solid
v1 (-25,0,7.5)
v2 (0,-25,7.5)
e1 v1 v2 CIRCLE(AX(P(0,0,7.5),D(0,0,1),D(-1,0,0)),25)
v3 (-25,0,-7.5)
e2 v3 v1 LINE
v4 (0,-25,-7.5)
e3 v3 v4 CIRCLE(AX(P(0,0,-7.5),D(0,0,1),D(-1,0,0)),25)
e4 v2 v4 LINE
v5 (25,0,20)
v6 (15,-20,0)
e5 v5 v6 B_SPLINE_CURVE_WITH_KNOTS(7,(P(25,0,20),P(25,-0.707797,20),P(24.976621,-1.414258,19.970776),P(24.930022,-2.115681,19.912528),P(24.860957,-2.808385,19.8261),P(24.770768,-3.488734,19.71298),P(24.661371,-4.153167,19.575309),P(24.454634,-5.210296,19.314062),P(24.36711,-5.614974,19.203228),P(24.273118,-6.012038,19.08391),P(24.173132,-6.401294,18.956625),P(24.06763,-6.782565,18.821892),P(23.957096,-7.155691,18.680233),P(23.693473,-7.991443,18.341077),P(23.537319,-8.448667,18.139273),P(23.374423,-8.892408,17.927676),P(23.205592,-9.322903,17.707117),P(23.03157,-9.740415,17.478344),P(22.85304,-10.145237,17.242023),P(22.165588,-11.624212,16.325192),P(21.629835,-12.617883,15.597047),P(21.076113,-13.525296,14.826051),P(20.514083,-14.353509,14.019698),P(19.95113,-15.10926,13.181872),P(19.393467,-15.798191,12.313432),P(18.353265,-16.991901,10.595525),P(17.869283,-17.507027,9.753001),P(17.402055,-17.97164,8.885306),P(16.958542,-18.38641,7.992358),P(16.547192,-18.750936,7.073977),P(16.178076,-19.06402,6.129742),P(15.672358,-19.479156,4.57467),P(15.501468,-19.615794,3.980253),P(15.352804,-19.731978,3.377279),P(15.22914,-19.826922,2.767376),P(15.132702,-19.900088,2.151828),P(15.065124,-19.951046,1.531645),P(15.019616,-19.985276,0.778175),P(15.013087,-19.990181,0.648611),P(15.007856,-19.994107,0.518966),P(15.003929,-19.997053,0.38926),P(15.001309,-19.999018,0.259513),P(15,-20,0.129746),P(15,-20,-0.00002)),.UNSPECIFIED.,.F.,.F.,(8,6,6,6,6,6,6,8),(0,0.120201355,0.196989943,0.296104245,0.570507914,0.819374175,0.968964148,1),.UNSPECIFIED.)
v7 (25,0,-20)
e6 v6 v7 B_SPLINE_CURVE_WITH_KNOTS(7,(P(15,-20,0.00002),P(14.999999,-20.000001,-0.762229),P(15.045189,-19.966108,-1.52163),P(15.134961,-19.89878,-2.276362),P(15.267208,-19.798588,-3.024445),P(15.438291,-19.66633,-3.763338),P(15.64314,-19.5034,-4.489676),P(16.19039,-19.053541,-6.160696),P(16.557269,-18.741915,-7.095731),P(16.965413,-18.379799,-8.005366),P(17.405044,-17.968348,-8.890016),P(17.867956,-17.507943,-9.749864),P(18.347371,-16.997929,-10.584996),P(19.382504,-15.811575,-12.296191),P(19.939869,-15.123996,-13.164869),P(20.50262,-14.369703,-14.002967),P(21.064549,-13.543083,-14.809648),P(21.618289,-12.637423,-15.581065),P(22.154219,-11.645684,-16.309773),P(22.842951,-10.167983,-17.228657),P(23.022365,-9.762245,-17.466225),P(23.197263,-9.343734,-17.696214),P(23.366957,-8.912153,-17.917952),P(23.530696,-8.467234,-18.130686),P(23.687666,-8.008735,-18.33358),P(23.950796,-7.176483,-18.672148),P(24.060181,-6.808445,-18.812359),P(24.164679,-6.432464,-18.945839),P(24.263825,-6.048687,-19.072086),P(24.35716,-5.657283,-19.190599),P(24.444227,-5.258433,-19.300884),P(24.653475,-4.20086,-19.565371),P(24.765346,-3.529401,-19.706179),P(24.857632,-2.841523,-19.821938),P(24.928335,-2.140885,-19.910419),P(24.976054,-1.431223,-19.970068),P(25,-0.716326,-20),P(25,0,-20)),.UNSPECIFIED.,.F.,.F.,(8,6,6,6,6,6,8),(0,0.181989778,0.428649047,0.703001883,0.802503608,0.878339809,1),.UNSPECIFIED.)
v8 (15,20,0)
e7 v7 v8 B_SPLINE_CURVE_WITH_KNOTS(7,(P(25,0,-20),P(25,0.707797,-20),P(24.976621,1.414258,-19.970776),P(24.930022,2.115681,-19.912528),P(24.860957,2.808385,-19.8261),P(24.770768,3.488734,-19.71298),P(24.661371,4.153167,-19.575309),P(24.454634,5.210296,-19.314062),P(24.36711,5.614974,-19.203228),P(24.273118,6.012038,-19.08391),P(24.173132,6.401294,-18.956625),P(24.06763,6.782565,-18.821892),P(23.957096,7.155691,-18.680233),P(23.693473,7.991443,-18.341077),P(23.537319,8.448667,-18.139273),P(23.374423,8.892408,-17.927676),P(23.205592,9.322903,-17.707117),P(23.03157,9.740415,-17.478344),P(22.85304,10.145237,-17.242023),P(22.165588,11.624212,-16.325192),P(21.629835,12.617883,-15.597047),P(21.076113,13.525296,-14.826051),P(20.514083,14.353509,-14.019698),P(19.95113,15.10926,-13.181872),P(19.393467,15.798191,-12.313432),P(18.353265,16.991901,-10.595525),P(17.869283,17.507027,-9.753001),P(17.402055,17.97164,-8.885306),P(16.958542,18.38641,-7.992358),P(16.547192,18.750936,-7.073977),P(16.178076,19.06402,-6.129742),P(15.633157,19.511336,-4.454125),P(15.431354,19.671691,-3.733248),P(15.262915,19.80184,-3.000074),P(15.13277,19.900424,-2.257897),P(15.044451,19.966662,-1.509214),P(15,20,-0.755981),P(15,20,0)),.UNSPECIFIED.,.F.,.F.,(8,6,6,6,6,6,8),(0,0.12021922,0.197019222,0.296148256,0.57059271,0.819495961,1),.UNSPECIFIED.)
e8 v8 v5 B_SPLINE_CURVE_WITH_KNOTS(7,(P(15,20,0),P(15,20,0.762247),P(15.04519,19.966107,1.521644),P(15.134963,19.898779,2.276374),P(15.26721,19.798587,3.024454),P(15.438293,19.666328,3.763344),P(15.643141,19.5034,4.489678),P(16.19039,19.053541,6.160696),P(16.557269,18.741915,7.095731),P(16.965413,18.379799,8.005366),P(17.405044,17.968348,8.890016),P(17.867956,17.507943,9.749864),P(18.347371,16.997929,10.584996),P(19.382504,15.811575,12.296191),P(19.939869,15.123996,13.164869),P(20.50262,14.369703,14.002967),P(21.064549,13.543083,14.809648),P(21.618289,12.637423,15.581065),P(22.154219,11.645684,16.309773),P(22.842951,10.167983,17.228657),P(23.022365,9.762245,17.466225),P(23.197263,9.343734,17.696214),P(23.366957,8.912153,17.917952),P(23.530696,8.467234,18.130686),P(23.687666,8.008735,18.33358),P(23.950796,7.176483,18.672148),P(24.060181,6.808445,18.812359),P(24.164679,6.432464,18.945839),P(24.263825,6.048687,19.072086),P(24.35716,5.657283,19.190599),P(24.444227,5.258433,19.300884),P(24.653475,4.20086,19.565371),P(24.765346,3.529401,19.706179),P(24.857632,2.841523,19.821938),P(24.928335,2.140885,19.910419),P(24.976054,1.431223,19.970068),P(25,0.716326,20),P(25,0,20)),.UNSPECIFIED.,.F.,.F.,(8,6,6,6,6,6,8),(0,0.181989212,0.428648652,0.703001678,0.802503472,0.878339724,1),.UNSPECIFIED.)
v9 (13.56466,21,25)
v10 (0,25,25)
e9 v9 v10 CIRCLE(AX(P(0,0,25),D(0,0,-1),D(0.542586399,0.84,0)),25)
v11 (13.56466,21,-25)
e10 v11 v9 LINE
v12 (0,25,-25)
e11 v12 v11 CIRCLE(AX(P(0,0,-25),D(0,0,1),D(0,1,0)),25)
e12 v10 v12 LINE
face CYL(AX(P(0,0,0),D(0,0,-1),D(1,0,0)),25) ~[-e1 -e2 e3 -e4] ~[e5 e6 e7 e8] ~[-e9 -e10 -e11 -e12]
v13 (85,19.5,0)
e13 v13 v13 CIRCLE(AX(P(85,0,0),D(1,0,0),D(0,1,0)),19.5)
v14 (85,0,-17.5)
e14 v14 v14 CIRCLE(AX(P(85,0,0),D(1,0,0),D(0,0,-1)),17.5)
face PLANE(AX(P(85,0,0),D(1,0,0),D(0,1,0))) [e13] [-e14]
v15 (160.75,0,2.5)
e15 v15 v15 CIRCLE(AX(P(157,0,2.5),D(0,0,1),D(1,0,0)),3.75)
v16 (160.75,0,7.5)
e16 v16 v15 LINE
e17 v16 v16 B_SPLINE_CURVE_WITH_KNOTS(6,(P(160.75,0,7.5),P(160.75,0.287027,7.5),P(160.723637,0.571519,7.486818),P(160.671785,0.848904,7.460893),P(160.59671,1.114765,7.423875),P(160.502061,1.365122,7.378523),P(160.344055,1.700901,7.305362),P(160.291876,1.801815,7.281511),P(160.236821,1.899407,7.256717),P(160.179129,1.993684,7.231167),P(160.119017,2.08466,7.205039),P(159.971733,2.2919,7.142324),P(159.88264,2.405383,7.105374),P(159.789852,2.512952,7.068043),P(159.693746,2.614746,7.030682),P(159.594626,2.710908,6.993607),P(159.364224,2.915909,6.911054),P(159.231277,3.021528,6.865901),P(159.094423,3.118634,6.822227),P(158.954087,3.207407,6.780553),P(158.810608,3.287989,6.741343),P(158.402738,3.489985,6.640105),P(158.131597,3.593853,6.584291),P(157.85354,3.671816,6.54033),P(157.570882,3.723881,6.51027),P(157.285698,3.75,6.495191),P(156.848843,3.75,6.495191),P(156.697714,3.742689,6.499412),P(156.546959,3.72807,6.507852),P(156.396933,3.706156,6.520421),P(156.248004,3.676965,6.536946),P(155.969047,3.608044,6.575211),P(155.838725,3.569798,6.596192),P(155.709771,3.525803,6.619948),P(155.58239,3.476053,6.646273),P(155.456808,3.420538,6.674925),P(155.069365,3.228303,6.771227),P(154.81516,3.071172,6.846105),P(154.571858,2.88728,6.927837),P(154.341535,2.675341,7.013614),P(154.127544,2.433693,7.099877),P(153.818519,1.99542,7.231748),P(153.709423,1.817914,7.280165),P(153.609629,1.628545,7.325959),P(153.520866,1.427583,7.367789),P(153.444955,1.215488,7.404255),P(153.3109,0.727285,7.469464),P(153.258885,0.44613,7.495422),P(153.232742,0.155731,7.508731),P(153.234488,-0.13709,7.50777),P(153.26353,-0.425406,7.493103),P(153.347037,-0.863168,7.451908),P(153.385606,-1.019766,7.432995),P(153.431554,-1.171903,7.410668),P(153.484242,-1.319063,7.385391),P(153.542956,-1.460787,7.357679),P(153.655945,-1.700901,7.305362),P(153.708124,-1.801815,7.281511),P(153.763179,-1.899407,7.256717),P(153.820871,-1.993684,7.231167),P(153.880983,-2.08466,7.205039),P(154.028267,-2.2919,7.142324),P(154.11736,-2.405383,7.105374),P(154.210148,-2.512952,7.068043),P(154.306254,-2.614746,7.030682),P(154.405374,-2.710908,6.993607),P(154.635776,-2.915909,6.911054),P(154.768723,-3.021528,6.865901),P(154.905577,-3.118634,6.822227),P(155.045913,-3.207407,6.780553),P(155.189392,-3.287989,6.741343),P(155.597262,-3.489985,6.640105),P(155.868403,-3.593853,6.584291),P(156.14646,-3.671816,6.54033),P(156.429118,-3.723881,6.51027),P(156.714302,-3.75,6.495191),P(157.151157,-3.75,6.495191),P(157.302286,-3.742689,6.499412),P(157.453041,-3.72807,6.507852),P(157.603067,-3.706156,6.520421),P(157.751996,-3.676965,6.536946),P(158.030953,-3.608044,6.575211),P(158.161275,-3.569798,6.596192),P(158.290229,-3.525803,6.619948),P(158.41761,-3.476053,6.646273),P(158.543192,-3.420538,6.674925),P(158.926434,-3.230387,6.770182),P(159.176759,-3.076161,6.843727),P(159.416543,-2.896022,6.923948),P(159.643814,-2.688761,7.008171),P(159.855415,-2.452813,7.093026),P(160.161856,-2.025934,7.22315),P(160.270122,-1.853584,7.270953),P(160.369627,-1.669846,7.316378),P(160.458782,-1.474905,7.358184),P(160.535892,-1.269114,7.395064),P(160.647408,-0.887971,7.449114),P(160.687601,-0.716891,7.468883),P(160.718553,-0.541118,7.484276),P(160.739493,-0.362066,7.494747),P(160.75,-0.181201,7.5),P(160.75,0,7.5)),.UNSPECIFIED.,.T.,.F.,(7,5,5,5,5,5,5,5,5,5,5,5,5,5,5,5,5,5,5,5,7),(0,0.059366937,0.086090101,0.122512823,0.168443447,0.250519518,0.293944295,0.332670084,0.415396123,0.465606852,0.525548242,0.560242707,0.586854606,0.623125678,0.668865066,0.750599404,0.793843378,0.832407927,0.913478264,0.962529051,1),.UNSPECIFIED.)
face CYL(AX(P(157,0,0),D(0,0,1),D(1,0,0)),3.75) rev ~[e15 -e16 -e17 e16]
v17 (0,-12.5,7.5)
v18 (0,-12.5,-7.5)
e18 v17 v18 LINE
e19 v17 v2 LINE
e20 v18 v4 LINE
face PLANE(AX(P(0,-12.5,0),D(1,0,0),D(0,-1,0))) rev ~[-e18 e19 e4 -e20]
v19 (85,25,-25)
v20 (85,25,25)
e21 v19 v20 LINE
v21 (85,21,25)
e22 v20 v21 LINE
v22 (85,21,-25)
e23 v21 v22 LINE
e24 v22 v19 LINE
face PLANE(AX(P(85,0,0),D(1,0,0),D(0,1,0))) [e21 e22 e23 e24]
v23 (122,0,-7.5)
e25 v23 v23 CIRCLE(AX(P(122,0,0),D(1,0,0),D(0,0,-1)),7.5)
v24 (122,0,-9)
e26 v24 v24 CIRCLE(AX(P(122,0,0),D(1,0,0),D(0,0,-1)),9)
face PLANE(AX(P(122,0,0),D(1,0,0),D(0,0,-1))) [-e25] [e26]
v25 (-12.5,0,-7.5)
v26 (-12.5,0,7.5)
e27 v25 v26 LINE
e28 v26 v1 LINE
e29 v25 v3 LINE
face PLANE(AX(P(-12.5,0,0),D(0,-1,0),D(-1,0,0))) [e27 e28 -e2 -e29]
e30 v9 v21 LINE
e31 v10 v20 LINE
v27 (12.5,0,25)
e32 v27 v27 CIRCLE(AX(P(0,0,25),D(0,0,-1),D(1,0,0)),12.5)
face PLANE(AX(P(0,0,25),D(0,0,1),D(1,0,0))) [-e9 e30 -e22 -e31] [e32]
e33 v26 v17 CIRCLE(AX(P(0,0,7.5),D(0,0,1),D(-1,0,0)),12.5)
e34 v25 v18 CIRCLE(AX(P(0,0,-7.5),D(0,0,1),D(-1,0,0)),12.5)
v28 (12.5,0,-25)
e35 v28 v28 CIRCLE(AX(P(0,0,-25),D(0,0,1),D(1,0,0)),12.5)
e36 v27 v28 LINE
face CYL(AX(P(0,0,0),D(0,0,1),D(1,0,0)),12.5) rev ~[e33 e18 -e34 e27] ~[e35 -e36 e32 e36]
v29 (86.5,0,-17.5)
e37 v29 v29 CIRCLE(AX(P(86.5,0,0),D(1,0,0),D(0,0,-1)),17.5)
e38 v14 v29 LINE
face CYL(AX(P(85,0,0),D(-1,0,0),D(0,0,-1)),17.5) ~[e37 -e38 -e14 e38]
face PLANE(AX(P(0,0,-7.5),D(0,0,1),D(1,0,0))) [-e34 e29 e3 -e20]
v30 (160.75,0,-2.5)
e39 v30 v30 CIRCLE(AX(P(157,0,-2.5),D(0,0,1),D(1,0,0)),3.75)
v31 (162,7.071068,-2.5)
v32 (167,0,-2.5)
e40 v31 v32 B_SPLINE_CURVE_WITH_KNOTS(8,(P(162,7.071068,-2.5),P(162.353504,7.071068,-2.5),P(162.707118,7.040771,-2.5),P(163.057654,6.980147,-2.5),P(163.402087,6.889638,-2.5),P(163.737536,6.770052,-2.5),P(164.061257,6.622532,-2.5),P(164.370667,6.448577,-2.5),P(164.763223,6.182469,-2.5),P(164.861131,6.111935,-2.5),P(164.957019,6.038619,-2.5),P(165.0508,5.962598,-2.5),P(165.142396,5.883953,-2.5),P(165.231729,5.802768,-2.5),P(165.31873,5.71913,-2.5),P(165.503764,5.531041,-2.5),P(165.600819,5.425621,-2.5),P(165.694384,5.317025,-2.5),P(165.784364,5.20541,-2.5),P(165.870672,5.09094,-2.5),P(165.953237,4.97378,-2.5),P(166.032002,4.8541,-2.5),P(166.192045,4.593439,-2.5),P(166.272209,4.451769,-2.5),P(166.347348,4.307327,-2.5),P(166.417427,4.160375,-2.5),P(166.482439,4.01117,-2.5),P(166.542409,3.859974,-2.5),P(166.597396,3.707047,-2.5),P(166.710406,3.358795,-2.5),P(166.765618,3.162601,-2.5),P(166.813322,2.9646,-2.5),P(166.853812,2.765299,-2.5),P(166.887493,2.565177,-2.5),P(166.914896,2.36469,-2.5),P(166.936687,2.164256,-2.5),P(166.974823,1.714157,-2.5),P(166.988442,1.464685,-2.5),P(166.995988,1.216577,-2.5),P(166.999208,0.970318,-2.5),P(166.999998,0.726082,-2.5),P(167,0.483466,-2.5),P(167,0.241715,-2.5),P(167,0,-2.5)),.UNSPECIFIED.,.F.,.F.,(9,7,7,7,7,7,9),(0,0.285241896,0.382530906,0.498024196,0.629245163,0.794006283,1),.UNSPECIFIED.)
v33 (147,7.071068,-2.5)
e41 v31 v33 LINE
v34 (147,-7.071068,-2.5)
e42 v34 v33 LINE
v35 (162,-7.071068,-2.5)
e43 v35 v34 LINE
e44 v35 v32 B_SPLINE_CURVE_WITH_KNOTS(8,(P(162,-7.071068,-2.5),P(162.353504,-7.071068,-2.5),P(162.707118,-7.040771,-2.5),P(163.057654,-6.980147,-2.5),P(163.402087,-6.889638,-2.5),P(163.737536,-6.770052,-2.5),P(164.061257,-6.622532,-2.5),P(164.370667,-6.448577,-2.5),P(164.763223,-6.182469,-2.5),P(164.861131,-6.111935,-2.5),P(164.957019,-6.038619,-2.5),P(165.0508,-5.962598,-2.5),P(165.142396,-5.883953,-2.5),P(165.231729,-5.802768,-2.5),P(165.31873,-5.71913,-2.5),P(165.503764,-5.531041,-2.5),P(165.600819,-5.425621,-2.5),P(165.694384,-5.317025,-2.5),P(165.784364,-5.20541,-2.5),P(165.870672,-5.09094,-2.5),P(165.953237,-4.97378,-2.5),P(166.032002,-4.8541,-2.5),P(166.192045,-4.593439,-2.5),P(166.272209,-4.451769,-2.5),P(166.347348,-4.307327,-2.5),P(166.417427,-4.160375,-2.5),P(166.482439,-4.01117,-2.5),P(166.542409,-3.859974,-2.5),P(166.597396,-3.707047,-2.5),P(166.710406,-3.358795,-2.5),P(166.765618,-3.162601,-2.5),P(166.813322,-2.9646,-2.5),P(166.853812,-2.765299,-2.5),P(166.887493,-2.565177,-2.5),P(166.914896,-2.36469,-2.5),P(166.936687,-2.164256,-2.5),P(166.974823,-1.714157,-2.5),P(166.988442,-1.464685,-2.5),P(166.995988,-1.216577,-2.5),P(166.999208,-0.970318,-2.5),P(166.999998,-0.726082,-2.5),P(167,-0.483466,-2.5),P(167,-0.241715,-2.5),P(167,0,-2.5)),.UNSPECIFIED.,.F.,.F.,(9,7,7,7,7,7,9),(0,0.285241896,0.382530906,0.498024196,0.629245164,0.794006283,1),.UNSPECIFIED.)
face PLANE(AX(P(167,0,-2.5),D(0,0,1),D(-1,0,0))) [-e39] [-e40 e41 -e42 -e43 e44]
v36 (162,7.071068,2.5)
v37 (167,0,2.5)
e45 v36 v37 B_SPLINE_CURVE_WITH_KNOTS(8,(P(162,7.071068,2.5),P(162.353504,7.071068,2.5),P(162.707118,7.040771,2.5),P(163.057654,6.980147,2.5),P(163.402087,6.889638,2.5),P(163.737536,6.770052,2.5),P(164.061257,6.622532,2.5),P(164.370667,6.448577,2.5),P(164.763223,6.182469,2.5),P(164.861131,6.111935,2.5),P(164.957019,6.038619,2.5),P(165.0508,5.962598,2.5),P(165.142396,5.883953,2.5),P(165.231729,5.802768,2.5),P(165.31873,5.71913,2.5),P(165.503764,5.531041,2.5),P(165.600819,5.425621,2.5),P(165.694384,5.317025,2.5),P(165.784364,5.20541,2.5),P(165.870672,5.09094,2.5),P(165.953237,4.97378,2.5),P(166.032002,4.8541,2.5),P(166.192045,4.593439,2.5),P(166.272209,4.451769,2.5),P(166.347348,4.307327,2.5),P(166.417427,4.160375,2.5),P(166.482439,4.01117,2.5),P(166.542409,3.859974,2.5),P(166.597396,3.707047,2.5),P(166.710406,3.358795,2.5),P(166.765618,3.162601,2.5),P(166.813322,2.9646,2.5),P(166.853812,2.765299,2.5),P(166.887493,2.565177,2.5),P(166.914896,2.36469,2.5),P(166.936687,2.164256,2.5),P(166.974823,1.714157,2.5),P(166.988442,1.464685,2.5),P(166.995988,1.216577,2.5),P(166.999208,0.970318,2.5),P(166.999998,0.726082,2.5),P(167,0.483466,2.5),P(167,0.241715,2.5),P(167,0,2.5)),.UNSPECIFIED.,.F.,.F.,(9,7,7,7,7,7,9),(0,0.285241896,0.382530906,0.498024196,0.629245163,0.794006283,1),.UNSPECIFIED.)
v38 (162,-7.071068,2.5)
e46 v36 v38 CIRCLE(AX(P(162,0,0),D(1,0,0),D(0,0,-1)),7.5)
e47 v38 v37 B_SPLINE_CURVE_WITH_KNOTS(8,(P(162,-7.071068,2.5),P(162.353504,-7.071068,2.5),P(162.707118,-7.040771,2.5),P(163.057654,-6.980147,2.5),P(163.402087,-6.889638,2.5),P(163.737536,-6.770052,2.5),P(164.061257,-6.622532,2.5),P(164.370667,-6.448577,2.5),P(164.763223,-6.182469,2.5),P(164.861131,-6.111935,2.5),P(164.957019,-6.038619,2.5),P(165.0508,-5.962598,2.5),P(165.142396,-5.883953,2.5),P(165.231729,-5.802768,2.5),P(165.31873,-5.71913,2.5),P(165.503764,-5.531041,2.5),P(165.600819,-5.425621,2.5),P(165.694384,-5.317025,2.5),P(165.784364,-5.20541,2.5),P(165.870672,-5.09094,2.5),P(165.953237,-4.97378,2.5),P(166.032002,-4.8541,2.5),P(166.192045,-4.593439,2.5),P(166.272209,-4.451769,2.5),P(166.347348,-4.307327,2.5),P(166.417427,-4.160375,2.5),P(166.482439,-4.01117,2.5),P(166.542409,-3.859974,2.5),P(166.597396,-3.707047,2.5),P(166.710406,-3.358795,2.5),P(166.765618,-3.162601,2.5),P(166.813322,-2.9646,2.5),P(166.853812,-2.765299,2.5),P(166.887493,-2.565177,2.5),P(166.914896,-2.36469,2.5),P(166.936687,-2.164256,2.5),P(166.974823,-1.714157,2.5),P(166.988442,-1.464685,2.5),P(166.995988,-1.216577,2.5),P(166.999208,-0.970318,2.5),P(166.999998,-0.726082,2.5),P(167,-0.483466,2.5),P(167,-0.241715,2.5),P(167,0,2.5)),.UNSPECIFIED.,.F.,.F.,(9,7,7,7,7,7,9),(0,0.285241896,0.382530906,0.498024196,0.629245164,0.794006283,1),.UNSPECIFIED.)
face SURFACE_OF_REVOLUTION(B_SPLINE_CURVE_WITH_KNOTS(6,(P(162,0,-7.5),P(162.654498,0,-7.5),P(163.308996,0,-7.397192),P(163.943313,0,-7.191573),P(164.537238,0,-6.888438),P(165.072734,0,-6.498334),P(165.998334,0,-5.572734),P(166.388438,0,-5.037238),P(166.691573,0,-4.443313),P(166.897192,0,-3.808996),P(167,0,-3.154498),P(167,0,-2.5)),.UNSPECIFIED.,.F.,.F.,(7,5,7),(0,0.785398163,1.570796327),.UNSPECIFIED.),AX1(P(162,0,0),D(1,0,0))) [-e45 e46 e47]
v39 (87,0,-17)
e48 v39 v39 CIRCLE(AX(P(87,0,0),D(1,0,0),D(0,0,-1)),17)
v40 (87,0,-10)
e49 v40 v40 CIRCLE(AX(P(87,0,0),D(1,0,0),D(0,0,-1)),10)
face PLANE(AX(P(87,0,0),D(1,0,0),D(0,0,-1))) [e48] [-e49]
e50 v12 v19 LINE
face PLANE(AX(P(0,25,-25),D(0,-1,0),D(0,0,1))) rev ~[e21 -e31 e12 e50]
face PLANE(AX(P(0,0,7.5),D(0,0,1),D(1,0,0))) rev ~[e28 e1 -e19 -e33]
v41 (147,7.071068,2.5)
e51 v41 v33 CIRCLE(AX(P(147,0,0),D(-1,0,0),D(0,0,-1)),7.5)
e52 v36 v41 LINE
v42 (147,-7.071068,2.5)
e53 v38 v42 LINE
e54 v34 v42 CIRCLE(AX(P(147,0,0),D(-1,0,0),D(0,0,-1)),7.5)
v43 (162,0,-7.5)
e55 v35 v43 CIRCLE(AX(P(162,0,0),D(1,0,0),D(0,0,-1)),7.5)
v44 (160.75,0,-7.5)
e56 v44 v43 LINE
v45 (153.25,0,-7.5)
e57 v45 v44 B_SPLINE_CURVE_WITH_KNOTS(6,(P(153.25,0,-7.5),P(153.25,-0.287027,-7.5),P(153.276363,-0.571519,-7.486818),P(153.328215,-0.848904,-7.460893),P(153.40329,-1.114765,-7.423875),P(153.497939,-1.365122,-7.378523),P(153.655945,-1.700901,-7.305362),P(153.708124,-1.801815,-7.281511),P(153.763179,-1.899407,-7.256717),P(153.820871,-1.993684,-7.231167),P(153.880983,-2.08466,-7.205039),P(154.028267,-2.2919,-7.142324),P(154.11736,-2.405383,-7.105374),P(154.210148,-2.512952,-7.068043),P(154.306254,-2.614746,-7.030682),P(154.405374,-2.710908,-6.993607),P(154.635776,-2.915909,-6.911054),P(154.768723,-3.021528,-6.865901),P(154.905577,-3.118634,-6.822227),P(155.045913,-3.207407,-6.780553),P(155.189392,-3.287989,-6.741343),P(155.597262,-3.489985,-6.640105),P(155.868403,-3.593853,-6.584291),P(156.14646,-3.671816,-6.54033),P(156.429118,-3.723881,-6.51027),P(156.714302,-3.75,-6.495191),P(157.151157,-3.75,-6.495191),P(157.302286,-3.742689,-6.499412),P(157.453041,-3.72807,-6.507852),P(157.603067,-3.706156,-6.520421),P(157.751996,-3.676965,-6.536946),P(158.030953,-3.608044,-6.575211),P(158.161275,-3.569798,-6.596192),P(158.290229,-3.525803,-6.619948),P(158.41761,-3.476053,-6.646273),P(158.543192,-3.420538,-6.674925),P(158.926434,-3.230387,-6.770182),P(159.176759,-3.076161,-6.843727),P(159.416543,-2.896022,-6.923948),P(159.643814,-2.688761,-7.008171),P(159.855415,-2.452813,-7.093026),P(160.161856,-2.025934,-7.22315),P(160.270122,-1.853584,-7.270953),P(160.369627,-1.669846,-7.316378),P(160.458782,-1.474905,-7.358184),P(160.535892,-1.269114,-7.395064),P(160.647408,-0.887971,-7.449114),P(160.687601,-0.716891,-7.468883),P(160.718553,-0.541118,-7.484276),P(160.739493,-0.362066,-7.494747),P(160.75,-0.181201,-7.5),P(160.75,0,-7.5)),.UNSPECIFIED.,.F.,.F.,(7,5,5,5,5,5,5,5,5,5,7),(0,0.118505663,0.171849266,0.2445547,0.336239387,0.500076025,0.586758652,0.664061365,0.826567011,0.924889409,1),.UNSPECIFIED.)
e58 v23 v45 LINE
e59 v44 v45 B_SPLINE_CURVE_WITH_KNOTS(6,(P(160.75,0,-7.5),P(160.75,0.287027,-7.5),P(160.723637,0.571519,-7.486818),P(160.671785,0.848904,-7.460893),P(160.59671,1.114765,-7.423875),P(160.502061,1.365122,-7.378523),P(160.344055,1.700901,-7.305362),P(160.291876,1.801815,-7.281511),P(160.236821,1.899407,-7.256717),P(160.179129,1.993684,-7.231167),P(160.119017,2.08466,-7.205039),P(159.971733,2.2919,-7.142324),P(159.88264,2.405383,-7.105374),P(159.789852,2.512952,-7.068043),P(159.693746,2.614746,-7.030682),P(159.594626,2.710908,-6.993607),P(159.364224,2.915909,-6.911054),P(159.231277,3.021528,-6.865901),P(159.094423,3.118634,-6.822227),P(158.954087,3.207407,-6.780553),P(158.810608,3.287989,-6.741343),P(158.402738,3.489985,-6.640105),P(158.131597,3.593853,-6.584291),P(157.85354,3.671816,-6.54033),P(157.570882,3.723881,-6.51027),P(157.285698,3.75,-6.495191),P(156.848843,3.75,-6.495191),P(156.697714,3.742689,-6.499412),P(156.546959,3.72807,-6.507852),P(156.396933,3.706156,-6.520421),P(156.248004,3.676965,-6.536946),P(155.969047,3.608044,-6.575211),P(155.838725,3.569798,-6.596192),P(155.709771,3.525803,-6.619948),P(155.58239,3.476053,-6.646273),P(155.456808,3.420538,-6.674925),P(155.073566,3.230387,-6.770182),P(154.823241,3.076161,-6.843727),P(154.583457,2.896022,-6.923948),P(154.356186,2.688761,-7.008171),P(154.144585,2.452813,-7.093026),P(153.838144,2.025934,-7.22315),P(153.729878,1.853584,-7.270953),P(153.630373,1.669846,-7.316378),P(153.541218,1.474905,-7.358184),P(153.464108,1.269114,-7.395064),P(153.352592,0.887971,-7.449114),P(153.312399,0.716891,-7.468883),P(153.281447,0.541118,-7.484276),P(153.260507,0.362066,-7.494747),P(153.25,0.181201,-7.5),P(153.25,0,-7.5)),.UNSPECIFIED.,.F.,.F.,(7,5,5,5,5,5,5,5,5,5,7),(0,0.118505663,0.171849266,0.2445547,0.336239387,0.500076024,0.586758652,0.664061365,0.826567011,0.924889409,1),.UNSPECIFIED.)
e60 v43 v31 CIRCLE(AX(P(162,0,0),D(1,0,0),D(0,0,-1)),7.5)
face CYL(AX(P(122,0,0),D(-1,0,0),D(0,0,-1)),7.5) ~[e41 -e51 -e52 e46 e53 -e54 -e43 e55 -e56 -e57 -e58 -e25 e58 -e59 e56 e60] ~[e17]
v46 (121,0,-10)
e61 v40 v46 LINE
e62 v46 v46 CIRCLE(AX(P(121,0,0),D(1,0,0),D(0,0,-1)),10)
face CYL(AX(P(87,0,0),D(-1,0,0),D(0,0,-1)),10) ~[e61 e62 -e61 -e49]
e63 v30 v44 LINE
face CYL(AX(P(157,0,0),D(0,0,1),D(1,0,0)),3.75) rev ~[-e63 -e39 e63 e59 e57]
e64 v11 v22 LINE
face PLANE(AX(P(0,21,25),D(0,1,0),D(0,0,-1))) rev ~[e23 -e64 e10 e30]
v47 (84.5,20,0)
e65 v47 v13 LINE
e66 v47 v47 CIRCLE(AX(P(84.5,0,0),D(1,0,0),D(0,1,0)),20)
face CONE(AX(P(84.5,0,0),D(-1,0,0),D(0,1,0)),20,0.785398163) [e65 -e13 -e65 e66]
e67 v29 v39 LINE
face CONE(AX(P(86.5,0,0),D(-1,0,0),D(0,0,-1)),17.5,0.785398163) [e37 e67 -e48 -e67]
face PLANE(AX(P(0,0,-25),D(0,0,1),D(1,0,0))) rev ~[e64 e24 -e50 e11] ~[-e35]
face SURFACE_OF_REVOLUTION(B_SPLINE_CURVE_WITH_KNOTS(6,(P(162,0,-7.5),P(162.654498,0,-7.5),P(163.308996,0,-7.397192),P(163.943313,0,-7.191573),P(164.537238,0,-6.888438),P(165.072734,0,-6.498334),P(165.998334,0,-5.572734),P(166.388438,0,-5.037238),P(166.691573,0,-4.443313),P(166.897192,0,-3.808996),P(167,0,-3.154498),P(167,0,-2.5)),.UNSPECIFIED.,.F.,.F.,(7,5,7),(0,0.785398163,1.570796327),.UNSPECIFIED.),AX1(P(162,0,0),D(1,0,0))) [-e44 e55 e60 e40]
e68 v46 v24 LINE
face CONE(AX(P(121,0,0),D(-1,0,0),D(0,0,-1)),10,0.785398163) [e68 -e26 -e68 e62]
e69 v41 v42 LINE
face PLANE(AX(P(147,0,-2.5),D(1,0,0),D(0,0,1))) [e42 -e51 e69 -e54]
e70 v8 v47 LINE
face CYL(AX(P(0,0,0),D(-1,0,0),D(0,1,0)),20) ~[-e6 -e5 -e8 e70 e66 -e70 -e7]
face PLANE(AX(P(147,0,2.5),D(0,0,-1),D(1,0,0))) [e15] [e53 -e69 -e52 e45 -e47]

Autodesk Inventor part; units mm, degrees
ref_plane "YZ Plane" through (0, 0, 0) normal (1, 0, 0) x (0, 1, 0)
ref_plane "XZ Plane" through (0, 0, 0) normal (0, 1, 0) x (-1, 0, 0)
ref_plane "XY Plane" through (0, 0, 0) normal (0, 0, 1) x (1, 0, 0)
sketch "Sketch1" plane through (0, 0, 0) normal (0, 0, 1) x (1, 0, 0)
  circle A0 centre (0, 0) radius 25
  dimension "d0" = 50
extrude "Extrusion1" add sketch "Sketch1" along normal mid plane 50
sketch "Sketch2" plane through (0, 0, 0) normal (1, 0, 0) x (0, 1, 0)
  circle A0 centre (0, 0) radius 20
  line L0 (25, 25) -> (-25, 25) projected
  line L1 (-25, -25) -> (25, -25) projected
  line L2 (25, 25) -> (21, 25)
  line L3 (21, 25) -> (21, -25)
  line L4 (21, -25) -> (25, -25)
  line L5 (25, -25) -> (25, 25)
  dimension "d3" = 40
  dimension "d4" = 4
extrude "Extrusion2" add sketch "Sketch2" along normal blind 85
sketch "Sketch3" plane through (0, 0, 0) normal (0, 0, 1) x (1, 0, 0)
  circle A0 centre (0, 0) radius 12.5
  dimension "d7" = 25
extrude "Extrusion3" cut sketch "Sketch3" along normal through all both and the other way through all
sketch "Sketch4" plane through (85, 0, 0) normal (1, 0, 0) x (0, 0, -1)
  circle A0 centre (0, 0) radius 17.5
  dimension "d10" = 35
extrude "Extrusion4" add sketch "Sketch4" along normal blind 2
sketch "Sketch5" plane through (87, 0, 0) normal (1, 0, 0) x (0, 0, -1)
  circle A0 centre (0, 0) radius 10
  dimension "d13" = 20
extrude "Extrusion5" add sketch "Sketch5" along normal blind 35
sketch "Sketch6" plane through (122, 0, 0) normal (1, 0, 0) x (0, 0, -1)
  circle A0 centre (0, 0) radius 7.5
  dimension "d16" = 15
extrude "Extrusion6" add sketch "Sketch6" along normal blind 45
sketch "Sketch7" plane through (0, 0, 0) normal (0, 0, 1) x (1, 0, 0)
  circle A0 centre (157, 0) radius 3.75
  line L0 (167, -7.5) -> (167, 7.5) projected
  point P0 (0, 0)
  dimension "d19" = 7.5
  dimension "d20" = 10
extrude "Extrusion7" cut sketch "Sketch7" along normal through all both and the other way through all
chamfer "Chamfer1" distance 0.5 angle 45 2 edges at (85, -20, 0) (87, 0, 17.5)
chamfer "Chamfer2" distance 1 angle 45 1 edges at (122, 0, 10)
fillet "Fillet1" radius 5 1 edges at (167, 0, 7.5)
sketch "Sketch8" plane through (0, 0, 0) normal (0, 0, 1) x (1, 0, 0)
  arc A0 (-12.5, 0) -> (0, -12.5) centre (0, 0) ccw
  arc A1 (-25, 0) -> (0, -25) centre (0, 0) ccw
  line L0 (0, 0) -> (-25, 0)
  line L1 (0, 0) -> (0, -25)
  dimension "d30" = 25
  dimension "d31" = 50
extrude "Extrusion8" cut sketch "Sketch8" along normal mid plane 15 contours A0 L1 A1 L0
sketch "Sketch9" plane through (0, 0, 0) normal (0, 1, 0) x (-1, 0, 0)
  line L0 (-167, -2.5) -> (-167, 2.5) projected
  line L1 (-167, -2.5) -> (-147, -2.5)
  line L2 (-147, -2.5) -> (-147, 2.5)
  line L3 (-147, 2.5) -> (-167, 2.5)
  point P0 (0, 0)
  dimension "d34" = 20
extrude "Extrusion9" cut sketch "Sketch9" along normal through all both and the other way through all
properties part number "Hydraulic Arm"
